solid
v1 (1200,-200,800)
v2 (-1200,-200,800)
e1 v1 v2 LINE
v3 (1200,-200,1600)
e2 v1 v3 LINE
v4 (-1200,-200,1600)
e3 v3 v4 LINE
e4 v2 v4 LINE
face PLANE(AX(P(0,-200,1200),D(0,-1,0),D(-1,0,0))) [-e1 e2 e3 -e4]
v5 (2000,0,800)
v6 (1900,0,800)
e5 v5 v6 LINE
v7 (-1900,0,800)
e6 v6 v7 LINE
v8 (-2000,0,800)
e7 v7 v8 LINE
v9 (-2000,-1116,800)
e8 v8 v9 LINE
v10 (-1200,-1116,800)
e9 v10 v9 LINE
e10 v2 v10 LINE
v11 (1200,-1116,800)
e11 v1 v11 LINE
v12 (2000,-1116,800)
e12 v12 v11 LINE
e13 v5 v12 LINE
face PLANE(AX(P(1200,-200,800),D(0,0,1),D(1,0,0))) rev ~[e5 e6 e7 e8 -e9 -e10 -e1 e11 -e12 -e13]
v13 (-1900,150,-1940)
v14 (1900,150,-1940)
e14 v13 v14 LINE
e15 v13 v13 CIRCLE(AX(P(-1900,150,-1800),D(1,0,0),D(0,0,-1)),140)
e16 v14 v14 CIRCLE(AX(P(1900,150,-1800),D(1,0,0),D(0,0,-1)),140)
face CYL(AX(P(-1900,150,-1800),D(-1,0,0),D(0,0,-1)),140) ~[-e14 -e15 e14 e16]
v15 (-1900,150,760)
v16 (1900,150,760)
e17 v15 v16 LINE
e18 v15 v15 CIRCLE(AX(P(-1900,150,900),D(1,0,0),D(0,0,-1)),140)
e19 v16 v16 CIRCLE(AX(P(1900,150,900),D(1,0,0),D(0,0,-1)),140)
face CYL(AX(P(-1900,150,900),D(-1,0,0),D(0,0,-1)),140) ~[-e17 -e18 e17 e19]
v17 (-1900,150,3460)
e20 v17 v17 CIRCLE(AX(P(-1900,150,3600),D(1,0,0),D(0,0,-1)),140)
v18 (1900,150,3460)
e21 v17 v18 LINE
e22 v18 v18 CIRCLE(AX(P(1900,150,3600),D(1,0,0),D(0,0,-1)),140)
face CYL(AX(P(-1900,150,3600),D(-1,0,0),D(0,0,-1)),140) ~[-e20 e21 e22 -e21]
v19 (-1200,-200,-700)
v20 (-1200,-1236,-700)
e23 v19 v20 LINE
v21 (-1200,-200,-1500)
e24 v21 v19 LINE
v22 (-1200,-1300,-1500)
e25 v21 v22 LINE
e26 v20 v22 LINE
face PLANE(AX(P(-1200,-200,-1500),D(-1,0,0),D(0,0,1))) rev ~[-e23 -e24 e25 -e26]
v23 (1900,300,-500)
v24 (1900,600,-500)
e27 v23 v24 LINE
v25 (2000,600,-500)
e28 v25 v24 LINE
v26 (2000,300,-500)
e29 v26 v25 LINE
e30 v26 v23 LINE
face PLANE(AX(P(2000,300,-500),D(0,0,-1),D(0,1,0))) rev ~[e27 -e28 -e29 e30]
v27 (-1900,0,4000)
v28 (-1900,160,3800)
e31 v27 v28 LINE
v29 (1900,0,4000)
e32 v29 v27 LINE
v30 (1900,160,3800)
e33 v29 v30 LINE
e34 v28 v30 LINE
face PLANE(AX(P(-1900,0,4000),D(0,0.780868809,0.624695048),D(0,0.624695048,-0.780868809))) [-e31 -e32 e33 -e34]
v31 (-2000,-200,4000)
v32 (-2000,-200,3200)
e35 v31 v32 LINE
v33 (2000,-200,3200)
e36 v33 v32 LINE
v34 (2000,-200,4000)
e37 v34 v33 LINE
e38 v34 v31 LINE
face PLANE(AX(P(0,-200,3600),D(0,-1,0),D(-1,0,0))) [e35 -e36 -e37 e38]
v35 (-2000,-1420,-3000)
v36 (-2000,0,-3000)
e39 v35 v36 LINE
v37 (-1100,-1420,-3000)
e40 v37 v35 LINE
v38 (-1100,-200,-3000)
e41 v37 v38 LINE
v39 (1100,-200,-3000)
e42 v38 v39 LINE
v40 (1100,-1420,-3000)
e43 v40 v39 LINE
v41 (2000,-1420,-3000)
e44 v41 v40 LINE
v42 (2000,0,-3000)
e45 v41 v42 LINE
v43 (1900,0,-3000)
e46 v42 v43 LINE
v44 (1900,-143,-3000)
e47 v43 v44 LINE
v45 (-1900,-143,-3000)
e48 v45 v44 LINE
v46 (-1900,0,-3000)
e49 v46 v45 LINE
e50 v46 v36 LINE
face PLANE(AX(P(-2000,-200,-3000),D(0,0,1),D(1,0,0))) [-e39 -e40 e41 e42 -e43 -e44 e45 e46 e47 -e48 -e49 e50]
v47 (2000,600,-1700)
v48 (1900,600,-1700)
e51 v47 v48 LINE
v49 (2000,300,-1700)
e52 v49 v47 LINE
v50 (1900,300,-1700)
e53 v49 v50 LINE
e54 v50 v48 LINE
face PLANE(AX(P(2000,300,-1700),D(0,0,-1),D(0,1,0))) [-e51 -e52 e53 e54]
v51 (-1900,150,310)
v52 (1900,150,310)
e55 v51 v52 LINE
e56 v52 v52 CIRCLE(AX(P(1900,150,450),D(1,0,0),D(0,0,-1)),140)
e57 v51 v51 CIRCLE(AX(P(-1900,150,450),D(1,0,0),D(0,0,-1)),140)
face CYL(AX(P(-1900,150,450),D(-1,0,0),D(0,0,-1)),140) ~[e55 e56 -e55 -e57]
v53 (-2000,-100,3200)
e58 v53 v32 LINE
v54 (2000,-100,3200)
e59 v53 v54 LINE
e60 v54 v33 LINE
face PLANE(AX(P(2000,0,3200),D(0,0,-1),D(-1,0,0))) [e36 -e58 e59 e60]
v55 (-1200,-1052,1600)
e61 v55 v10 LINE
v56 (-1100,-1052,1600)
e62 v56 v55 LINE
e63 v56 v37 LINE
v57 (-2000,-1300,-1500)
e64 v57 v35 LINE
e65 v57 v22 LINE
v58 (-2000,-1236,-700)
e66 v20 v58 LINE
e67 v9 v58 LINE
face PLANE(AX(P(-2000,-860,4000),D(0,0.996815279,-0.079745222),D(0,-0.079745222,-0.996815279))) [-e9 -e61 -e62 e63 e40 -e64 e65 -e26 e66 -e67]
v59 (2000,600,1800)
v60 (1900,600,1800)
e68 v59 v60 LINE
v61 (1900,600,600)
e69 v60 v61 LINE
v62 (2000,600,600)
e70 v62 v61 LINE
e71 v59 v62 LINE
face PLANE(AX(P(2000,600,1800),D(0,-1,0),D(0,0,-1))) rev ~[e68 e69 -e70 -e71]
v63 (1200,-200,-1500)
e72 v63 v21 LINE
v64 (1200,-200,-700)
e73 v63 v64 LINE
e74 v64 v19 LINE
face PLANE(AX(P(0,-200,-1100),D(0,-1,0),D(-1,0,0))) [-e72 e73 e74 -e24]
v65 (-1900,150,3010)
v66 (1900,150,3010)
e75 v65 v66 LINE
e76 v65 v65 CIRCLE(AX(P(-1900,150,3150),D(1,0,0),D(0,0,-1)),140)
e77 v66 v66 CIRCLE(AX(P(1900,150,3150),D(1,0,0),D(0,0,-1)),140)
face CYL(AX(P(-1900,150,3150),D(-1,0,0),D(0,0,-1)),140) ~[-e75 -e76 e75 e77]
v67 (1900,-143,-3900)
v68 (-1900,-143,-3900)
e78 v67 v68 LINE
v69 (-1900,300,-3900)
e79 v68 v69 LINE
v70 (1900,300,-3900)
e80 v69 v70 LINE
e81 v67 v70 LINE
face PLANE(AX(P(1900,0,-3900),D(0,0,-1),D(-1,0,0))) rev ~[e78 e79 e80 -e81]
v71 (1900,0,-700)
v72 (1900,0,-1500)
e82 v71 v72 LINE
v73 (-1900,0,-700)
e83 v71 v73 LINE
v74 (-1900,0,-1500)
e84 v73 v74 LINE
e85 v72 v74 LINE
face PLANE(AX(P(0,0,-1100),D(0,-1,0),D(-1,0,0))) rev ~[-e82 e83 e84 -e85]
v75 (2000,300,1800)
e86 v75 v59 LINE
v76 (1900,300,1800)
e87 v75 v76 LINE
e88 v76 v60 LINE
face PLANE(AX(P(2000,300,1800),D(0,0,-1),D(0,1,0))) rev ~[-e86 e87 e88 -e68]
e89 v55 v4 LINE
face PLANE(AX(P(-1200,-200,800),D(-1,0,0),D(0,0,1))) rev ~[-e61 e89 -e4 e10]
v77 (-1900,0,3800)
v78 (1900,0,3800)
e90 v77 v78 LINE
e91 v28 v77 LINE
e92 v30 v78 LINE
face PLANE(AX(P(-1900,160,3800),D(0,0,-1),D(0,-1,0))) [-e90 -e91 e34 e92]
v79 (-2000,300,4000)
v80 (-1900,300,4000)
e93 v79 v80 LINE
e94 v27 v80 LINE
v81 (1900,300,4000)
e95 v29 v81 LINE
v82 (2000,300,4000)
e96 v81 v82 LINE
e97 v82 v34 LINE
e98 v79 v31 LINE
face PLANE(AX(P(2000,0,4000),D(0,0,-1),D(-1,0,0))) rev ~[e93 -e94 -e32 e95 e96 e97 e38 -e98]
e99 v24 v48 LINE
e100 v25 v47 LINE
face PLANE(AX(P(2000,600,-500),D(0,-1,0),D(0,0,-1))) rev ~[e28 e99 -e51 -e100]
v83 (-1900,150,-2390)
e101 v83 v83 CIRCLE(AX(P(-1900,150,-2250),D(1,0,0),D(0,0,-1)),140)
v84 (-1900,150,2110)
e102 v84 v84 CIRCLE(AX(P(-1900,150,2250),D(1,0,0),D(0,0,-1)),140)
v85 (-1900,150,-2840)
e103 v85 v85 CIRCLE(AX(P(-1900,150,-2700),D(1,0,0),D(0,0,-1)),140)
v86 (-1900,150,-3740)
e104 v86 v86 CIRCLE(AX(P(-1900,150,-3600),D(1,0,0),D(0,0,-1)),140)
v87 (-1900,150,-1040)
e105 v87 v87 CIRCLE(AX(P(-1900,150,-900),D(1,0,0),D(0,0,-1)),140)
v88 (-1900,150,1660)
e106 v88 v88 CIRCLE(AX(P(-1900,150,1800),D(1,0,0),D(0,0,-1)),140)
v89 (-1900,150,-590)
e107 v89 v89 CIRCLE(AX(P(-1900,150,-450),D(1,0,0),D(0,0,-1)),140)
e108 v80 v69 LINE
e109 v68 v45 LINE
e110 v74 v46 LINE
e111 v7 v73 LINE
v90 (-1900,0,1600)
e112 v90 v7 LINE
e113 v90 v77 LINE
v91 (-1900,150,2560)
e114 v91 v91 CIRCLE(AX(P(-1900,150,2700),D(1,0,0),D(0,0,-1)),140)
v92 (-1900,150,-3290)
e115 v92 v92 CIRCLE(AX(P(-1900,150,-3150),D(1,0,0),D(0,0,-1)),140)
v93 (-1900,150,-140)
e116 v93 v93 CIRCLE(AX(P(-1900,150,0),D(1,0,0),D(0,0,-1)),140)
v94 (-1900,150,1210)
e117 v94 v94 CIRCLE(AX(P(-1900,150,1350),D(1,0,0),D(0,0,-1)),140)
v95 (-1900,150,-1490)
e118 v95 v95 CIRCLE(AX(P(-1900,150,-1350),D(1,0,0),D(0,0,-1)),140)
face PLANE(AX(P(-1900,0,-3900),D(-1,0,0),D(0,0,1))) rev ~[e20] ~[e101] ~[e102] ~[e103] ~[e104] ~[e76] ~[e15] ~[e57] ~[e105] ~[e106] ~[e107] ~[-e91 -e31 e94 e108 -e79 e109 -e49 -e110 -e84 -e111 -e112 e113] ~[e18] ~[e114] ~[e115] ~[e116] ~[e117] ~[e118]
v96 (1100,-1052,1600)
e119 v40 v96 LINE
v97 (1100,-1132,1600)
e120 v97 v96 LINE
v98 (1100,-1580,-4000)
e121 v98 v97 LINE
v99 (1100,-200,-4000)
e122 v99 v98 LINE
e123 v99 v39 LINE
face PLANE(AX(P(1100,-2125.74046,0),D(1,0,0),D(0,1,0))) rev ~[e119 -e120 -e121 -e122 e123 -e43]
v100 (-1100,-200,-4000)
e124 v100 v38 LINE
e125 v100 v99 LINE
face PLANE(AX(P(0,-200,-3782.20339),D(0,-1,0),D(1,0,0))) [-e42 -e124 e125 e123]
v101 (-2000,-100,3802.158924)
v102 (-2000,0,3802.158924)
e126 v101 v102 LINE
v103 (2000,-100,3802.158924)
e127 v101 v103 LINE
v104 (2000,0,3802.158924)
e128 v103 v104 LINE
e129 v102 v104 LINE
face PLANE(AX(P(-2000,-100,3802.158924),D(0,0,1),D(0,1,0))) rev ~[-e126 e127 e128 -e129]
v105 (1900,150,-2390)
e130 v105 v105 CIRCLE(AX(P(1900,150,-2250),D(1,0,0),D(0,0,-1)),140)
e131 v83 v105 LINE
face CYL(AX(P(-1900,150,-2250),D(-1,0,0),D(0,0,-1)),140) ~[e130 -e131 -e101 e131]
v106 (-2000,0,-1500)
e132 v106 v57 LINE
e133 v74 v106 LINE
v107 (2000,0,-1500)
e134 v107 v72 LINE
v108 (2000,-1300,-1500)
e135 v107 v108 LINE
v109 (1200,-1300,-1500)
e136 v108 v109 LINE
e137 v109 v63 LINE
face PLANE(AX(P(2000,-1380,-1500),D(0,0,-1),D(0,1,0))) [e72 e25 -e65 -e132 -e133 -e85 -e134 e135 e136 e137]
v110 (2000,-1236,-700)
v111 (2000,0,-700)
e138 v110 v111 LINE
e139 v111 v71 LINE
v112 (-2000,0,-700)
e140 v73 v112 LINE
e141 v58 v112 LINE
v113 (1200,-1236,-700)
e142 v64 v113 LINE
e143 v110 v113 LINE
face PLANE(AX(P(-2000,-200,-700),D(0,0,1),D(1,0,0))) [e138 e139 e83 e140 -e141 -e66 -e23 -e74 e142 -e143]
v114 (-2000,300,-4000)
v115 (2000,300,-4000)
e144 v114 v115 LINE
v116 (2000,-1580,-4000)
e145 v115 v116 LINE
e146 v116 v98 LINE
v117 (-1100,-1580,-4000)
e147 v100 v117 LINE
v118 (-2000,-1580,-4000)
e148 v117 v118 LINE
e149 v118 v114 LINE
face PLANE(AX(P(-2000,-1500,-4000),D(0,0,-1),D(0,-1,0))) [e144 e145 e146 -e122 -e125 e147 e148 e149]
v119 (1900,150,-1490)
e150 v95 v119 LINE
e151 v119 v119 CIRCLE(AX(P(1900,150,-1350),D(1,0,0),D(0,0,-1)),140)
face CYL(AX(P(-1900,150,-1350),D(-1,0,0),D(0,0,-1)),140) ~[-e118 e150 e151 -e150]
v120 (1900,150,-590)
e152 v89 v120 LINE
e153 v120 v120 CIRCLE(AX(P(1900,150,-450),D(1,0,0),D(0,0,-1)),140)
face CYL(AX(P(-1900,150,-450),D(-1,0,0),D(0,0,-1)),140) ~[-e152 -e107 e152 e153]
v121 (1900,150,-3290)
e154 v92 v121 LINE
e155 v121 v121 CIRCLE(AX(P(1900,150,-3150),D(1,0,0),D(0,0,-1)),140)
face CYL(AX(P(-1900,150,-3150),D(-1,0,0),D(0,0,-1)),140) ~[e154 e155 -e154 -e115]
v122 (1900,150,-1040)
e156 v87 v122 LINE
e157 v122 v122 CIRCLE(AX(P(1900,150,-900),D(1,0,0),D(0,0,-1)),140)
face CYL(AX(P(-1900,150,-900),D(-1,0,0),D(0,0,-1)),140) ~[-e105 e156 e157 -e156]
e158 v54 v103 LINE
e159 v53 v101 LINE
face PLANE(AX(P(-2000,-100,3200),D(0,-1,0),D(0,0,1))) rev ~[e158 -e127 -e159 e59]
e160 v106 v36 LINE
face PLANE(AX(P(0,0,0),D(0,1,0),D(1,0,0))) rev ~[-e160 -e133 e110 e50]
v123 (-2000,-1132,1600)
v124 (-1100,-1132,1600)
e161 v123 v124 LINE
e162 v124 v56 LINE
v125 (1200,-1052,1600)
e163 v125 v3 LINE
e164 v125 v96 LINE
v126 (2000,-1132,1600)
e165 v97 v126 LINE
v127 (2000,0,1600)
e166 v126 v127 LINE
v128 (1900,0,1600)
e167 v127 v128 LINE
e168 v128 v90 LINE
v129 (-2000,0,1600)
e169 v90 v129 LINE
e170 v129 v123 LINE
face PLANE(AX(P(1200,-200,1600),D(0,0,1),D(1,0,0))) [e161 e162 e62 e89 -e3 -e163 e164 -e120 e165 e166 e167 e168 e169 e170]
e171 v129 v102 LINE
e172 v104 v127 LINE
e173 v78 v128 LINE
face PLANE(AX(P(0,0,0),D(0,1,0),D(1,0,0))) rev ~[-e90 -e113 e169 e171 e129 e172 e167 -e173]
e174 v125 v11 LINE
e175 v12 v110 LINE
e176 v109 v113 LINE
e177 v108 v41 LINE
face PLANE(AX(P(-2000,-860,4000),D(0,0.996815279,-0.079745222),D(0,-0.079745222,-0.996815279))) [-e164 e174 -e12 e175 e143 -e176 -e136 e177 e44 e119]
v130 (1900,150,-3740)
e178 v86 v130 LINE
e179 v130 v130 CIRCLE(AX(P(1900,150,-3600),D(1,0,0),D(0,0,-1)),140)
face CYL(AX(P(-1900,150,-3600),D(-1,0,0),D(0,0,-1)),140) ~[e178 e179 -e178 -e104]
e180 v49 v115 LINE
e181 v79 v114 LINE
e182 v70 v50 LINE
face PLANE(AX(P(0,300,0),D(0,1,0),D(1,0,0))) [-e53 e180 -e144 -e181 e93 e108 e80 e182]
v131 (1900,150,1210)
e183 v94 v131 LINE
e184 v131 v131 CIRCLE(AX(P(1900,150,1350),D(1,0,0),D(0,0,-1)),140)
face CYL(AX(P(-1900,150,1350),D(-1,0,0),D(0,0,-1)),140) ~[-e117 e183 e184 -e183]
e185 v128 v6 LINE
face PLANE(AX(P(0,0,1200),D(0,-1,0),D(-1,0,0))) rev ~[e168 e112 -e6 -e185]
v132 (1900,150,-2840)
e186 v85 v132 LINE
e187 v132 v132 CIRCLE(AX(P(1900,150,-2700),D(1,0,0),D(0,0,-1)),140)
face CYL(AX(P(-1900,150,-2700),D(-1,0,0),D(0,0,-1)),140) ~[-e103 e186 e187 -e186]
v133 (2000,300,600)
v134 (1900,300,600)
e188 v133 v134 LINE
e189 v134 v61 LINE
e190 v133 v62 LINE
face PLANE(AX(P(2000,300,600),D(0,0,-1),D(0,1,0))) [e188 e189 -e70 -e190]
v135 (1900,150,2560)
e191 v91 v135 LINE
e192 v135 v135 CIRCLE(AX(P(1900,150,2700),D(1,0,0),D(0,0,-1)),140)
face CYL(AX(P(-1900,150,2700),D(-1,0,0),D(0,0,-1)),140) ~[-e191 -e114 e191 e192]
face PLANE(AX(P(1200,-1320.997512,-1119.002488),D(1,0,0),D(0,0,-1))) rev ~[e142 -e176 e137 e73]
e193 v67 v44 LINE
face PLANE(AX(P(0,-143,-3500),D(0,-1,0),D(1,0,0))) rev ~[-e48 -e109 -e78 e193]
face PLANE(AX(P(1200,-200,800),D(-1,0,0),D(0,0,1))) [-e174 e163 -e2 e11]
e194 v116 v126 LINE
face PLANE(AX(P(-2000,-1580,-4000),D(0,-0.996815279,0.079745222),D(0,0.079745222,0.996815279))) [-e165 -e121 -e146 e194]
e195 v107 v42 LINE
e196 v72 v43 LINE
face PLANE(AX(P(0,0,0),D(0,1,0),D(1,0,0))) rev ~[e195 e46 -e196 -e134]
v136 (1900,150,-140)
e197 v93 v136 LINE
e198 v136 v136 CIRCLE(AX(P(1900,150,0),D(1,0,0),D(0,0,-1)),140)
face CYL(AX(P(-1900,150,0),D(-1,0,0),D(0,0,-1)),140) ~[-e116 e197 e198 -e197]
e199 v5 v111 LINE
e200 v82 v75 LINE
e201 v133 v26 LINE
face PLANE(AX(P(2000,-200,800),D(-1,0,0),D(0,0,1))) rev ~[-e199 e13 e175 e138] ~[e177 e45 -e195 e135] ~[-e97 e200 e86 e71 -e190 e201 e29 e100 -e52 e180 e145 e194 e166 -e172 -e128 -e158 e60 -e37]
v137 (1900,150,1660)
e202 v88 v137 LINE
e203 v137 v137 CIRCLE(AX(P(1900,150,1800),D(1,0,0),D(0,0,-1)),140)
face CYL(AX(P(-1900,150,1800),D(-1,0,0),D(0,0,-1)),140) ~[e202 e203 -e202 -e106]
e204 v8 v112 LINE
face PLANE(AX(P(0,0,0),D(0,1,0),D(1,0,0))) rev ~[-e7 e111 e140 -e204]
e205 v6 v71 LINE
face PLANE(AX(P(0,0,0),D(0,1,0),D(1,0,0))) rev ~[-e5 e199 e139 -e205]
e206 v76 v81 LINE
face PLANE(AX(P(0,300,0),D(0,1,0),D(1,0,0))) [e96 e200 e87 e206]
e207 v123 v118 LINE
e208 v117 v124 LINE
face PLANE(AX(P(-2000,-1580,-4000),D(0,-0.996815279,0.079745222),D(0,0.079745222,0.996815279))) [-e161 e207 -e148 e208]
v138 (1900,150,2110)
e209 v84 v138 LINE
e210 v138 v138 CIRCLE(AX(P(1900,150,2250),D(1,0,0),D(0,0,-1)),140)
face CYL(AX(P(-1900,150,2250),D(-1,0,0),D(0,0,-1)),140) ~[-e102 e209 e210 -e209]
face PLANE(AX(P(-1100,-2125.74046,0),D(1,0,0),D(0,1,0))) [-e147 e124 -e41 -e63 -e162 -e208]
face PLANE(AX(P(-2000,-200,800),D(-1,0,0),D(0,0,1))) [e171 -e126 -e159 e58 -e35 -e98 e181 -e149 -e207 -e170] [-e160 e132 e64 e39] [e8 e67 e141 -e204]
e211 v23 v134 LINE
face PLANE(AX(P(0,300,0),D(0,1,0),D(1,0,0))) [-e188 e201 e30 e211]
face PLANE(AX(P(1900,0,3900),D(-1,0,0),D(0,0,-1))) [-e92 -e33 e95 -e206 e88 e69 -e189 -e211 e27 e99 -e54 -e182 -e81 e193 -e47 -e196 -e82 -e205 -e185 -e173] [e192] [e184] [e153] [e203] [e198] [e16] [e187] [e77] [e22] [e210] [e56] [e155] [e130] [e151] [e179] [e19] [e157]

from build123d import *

# Parameters (mm, degrees)
SKETCH2_W               = 4000
SKETCH2_H               = 8000
SKETCH2_W_2             = 3800
SKETCH2_H_2             = 7800
BOSS_EXTRUDE1_DEPTH     = 300
SKETCH3_R               = 140
BOSS_EXTRUDE2_DEPTH     = 3800
LPATTERN1_COUNT         = 17
LPATTERN1_PITCH         = 450
BOSS_EXTRUDE3_DEPTH     = 200
SKETCH5_W               = 4000
SKETCH5_H               = 1000
BOSS_EXTRUDE4_DEPTH     = 57
SKETCH6_W               = 4000
SKETCH6_H               = 800
BOSS_EXTRUDE5_DEPTH     = 200
SKETCH7_W               = 4000
SKETCH7_H               = 800
BOSS_EXTRUDE6_DEPTH     = 200
SKETCH8_W               = 4000
SKETCH8_H               = 800
BOSS_EXTRUDE7_DEPTH     = 200
SKETCH9_W               = 3800
SKETCH9_H               = 300
CUT_EXTRUDE1_DEPTH      = 200
BOSS_EXTRUDE8_DEPTH     = 3800
SKETCH11_W              = 1200
SKETCH11_H              = 300
BOSS_EXTRUDE9_DEPTH     = 100
SKETCH12_W              = 900
SKETCH12_H              = 1000
BOSS_EXTRUDE10_DEPTH    = 1300
SKETCH13_W              = 800
SKETCH13_H              = 800
BOSS_EXTRUDE11_DEPTH    = 1100
BOSS_EXTRUDE12_DEPTH    = 800
BOSS_EXTRUDE13_DEPTH    = 900
BOSS_EXTRUDE15_DEPTH    = 4000
CUT_EXTRUDE3_DEPTH      = 4001
BOSS_EXTRUDE16_START    = -2000
BOSS_EXTRUDE16_DEPTH    = 4000
BOSS_EXTRUDE17_REACH    = 1382
SKETCH20_W              = 800
SKETCH20_H              = 800
BOSS_EXTRUDE18_REACH    = 1382
SKETCH28_W              = 800
SKETCH28_H              = 800
SKETCH29_W              = 2200
SKETCH29_H              = 1745.936228959
CUT_EXTRUDE4_DEPTH      = 4001
CUT_EXTRUDE4_DEPTH_BACK = 4000
SKETCH30_W              = 2459.672071775
SKETCH30_H              = 1784.301362594
CUT_EXTRUDE5_DEPTH      = 2000
SKETCH31_W              = 602.15892419
SKETCH31_H              = 100
CUT_EXTRUDE6_DEPTH      = 4000


with BuildPart() as part:
    # Sketch2 → Boss-Extrude1 (new body)
    with BuildSketch(Plane(origin=(0, 0, 0), x_dir=(1, 0, 0), z_dir=(0, 1, 0))):
        Rectangle(SKETCH2_W, SKETCH2_H)
        Rectangle(SKETCH2_W_2, SKETCH2_H_2, mode=Mode.SUBTRACT)
    extrude(amount=BOSS_EXTRUDE1_DEPTH)

    # Sketch3 → Boss-Extrude2 (add)
    with BuildSketch(Plane(origin=(-1900, 0, 0), x_dir=(0, 0, -1), z_dir=(1, 0, 0))):
        with Locations((3600, 150)):
            Circle(SKETCH3_R)
    boss_extrude2 = extrude(amount=BOSS_EXTRUDE2_DEPTH)

    # LPattern1: Boss-Extrude2 ×17
    with Locations(*[(0, 0, i * LPATTERN1_PITCH) for i in range(1, LPATTERN1_COUNT)]):
        add(boss_extrude2)

    # Sketch4 → Boss-Extrude3 (add)
    with BuildSketch(Plane.XZ):
        Polygon((-1900, -3000), (-2000, -3000), (-2000, -4000), (2000, -4000), (2000, -3000), (1900, -3000), (1900, -3900), (-1900, -3900), align=None)
    extrude(amount=BOSS_EXTRUDE3_DEPTH)

    # Sketch5 → Boss-Extrude4 (add)
    with BuildSketch(Plane.XZ.offset(200)):
        with Locations((0, -3500)):
            Rectangle(SKETCH5_W, SKETCH5_H)
    extrude(amount=-BOSS_EXTRUDE4_DEPTH)

    # Sketch6 → Boss-Extrude5 (add)
    with BuildSketch(Plane(origin=(0, 0, 0), x_dir=(-1, 0, 0), z_dir=(0, -1, 0))):
        with Locations((0, -3600)):
            Rectangle(SKETCH6_W, SKETCH6_H)
    extrude(amount=BOSS_EXTRUDE5_DEPTH)

    # Sketch7 → Boss-Extrude6 (add)
    with BuildSketch(Plane(origin=(0, 0, 0), x_dir=(-1, 0, 0), z_dir=(0, -1, 0))):
        with Locations((0, 1100)):
            Rectangle(SKETCH7_W, SKETCH7_H)
    extrude(amount=BOSS_EXTRUDE6_DEPTH)

    # Sketch8 → Boss-Extrude7 (add)
    with BuildSketch(Plane(origin=(0, 0, 0), x_dir=(-1, 0, 0), z_dir=(0, -1, 0))):
        with Locations((0, -1200)):
            Rectangle(SKETCH8_W, SKETCH8_H)
    extrude(amount=BOSS_EXTRUDE7_DEPTH)

    # Sketch9 → Cut-Extrude1 (cut)
    with BuildSketch(Plane(origin=(0, 0, 3900), x_dir=(-1, 0, 0), z_dir=(0, 0, -1))):
        with Locations((0, 150)):
            Rectangle(SKETCH9_W, SKETCH9_H)
    extrude(amount=-CUT_EXTRUDE1_DEPTH, mode=Mode.SUBTRACT)

    # Sketch10 → Boss-Extrude8 (add)
    with BuildSketch(Plane(origin=(-1900, 0, 0), x_dir=(0, 0, -1), z_dir=(1, 0, 0))):
        Polygon((-4000, 0), (-3800, 160), (-3800, 0), align=None)
    extrude(amount=BOSS_EXTRUDE8_DEPTH)

    # Sketch11 → Boss-Extrude9 (add)
    with BuildSketch(Plane(origin=(2000, 0, 0), x_dir=(0, 0, -1), z_dir=(1, 0, 0))):
        with Locations((1100, 450)):
            Rectangle(SKETCH11_W, SKETCH11_H)
        with Locations((-1200, 450)):
            Rectangle(SKETCH11_W, SKETCH11_H)
    extrude(amount=-BOSS_EXTRUDE9_DEPTH)

    # Sketch12 → Boss-Extrude10 (add)
    with BuildSketch(Plane.XZ.offset(200)):
        with Locations((-1550, -3500)):
            Rectangle(SKETCH12_W, SKETCH12_H)
        with Locations((1550, -3500)):
            Rectangle(SKETCH12_W, SKETCH12_H)
    extrude(amount=BOSS_EXTRUDE10_DEPTH)

    # Sketch13 → Boss-Extrude11 (add)
    with BuildSketch(Plane.XZ.offset(200)):
        with Locations((-1600, -1100)):
            Rectangle(SKETCH13_W, SKETCH13_H)
        with Locations((1600, -1100)):
            Rectangle(SKETCH13_W, SKETCH13_H)
    extrude(amount=BOSS_EXTRUDE11_DEPTH)

    # Sketch14 → Boss-Extrude12 (add)
    with BuildSketch(Plane(origin=(2000, 0, 0), x_dir=(0, 0, -1), z_dir=(1, 0, 0))):
        Polygon((700, -1300), (1500, -1380), (1500, -1300), align=None)
    extrude(amount=-BOSS_EXTRUDE12_DEPTH)



with BuildPart() as body_2:
    # Sketch16 → Boss-Extrude13 (new body)
    with BuildSketch(Plane(origin=(2000, 0, 0), x_dir=(0, 0, -1), z_dir=(1, 0, 0))):
        Polygon((3000, -1500), (4000, -1580), (4000, -1500), align=None)
    extrude(amount=-BOSS_EXTRUDE13_DEPTH)


with BuildPart() as part_1:
    add(part.part)

    add(body_2.part)  # Boss-Extrude15 merges body 2
    # Sketch21 → Boss-Extrude15 (add)
    with BuildSketch(Plane.ZY.offset(2000)):
        Polygon((-4000, -1500), (-4000, -1580), (-3000, -1500), align=None)
    extrude(amount=-BOSS_EXTRUDE15_DEPTH)

    # Sketch24 → Cut-Extrude3 (cut, through all)
    with BuildSketch(Plane(origin=(2000, 0, 0), x_dir=(0, 0, -1), z_dir=(1, 0, 0))):
        Polygon((700, -1300), (1500, -1300), (1500, -1380), align=None)
    extrude(amount=-CUT_EXTRUDE3_DEPTH, mode=Mode.SUBTRACT)

    # Sketch27 → Boss-Extrude16 (add)
    with BuildSketch(Plane(origin=(0, 0, 0), x_dir=(0, 0, -1), z_dir=(1, 0, 0)).offset(BOSS_EXTRUDE16_START)):
        Polygon((4000, -1580), (-4000, -940), (-4000, -860), (4000, -1500), align=None)
    extrude(amount=BOSS_EXTRUDE16_DEPTH)

    # Boss-Extrude17: up to this face of the body (flat: up to its plane)
    boss_extrude17_end = Plane(part_1.part.faces().sort_by_distance((0, -1158.677731674, 266.52835408))[0])
    # Sketch20 → Boss-Extrude17 (add, up to the picked face)
    with BuildSketch(Plane.XZ.offset(200), mode=Mode.PRIVATE) as boss_extrude17_sk1:
        with Locations((-1600, 1200)):
            Rectangle(SKETCH20_W, SKETCH20_H)
    boss_extrude17_tool1 = split(extrude(boss_extrude17_sk1.sketch, amount=BOSS_EXTRUDE17_REACH, mode=Mode.PRIVATE), bisect_by=boss_extrude17_end, keep=Keep.BOTH, mode=Mode.PRIVATE)
    add(boss_extrude17_tool1.solids().sort_by_distance((-1600, -200, 1200))[0])

    # Boss-Extrude18: up to this face of the body (flat: up to its plane)
    boss_extrude18_end = Plane(part_1.part.faces().sort_by_distance((36.209335219, -1160.367751061, 245.40311174))[0])
    # Sketch28 → Boss-Extrude18 (add, up to the picked face)
    with BuildSketch(Plane.XZ.offset(200), mode=Mode.PRIVATE) as boss_extrude18_sk1:
        with Locations((1600, 1200)):
            Rectangle(SKETCH28_W, SKETCH28_H)
    boss_extrude18_tool1 = split(extrude(boss_extrude18_sk1.sketch, amount=BOSS_EXTRUDE18_REACH, mode=Mode.PRIVATE), bisect_by=boss_extrude18_end, keep=Keep.BOTH, mode=Mode.PRIVATE)
    add(boss_extrude18_tool1.solids().sort_by_distance((1600, -200, 1200))[0])

    # Sketch29 → Cut-Extrude4 (cut, two sides)
    with BuildSketch(Plane.XY) as cut_extrude4_sk:
        with Locations((0, -1252.772345586)):
            Rectangle(SKETCH29_W, SKETCH29_H)
    extrude(amount=CUT_EXTRUDE4_DEPTH, mode=Mode.SUBTRACT)
    extrude(cut_extrude4_sk.sketch, amount=-CUT_EXTRUDE4_DEPTH_BACK, mode=Mode.SUBTRACT)

    # Sketch30 → Cut-Extrude5 (cut, symmetric)
    with BuildSketch(Plane(origin=(0, 0, 0), x_dir=(0, 0, -1), z_dir=(1, 0, 0))):
        with Locations((-2829.836035888, -1280.25847445)):
            Rectangle(SKETCH30_W, SKETCH30_H)
    extrude(amount=CUT_EXTRUDE5_DEPTH, both=True, mode=Mode.SUBTRACT)

    # Sketch31 → Cut-Extrude6 (cut)
    with BuildSketch(Plane.ZY.offset(2000)):
        with Locations((3501.079462095, -50)):
            Rectangle(SKETCH31_W, SKETCH31_H)
    extrude(amount=-CUT_EXTRUDE6_DEPTH, mode=Mode.SUBTRACT)


solid = part_1.part
